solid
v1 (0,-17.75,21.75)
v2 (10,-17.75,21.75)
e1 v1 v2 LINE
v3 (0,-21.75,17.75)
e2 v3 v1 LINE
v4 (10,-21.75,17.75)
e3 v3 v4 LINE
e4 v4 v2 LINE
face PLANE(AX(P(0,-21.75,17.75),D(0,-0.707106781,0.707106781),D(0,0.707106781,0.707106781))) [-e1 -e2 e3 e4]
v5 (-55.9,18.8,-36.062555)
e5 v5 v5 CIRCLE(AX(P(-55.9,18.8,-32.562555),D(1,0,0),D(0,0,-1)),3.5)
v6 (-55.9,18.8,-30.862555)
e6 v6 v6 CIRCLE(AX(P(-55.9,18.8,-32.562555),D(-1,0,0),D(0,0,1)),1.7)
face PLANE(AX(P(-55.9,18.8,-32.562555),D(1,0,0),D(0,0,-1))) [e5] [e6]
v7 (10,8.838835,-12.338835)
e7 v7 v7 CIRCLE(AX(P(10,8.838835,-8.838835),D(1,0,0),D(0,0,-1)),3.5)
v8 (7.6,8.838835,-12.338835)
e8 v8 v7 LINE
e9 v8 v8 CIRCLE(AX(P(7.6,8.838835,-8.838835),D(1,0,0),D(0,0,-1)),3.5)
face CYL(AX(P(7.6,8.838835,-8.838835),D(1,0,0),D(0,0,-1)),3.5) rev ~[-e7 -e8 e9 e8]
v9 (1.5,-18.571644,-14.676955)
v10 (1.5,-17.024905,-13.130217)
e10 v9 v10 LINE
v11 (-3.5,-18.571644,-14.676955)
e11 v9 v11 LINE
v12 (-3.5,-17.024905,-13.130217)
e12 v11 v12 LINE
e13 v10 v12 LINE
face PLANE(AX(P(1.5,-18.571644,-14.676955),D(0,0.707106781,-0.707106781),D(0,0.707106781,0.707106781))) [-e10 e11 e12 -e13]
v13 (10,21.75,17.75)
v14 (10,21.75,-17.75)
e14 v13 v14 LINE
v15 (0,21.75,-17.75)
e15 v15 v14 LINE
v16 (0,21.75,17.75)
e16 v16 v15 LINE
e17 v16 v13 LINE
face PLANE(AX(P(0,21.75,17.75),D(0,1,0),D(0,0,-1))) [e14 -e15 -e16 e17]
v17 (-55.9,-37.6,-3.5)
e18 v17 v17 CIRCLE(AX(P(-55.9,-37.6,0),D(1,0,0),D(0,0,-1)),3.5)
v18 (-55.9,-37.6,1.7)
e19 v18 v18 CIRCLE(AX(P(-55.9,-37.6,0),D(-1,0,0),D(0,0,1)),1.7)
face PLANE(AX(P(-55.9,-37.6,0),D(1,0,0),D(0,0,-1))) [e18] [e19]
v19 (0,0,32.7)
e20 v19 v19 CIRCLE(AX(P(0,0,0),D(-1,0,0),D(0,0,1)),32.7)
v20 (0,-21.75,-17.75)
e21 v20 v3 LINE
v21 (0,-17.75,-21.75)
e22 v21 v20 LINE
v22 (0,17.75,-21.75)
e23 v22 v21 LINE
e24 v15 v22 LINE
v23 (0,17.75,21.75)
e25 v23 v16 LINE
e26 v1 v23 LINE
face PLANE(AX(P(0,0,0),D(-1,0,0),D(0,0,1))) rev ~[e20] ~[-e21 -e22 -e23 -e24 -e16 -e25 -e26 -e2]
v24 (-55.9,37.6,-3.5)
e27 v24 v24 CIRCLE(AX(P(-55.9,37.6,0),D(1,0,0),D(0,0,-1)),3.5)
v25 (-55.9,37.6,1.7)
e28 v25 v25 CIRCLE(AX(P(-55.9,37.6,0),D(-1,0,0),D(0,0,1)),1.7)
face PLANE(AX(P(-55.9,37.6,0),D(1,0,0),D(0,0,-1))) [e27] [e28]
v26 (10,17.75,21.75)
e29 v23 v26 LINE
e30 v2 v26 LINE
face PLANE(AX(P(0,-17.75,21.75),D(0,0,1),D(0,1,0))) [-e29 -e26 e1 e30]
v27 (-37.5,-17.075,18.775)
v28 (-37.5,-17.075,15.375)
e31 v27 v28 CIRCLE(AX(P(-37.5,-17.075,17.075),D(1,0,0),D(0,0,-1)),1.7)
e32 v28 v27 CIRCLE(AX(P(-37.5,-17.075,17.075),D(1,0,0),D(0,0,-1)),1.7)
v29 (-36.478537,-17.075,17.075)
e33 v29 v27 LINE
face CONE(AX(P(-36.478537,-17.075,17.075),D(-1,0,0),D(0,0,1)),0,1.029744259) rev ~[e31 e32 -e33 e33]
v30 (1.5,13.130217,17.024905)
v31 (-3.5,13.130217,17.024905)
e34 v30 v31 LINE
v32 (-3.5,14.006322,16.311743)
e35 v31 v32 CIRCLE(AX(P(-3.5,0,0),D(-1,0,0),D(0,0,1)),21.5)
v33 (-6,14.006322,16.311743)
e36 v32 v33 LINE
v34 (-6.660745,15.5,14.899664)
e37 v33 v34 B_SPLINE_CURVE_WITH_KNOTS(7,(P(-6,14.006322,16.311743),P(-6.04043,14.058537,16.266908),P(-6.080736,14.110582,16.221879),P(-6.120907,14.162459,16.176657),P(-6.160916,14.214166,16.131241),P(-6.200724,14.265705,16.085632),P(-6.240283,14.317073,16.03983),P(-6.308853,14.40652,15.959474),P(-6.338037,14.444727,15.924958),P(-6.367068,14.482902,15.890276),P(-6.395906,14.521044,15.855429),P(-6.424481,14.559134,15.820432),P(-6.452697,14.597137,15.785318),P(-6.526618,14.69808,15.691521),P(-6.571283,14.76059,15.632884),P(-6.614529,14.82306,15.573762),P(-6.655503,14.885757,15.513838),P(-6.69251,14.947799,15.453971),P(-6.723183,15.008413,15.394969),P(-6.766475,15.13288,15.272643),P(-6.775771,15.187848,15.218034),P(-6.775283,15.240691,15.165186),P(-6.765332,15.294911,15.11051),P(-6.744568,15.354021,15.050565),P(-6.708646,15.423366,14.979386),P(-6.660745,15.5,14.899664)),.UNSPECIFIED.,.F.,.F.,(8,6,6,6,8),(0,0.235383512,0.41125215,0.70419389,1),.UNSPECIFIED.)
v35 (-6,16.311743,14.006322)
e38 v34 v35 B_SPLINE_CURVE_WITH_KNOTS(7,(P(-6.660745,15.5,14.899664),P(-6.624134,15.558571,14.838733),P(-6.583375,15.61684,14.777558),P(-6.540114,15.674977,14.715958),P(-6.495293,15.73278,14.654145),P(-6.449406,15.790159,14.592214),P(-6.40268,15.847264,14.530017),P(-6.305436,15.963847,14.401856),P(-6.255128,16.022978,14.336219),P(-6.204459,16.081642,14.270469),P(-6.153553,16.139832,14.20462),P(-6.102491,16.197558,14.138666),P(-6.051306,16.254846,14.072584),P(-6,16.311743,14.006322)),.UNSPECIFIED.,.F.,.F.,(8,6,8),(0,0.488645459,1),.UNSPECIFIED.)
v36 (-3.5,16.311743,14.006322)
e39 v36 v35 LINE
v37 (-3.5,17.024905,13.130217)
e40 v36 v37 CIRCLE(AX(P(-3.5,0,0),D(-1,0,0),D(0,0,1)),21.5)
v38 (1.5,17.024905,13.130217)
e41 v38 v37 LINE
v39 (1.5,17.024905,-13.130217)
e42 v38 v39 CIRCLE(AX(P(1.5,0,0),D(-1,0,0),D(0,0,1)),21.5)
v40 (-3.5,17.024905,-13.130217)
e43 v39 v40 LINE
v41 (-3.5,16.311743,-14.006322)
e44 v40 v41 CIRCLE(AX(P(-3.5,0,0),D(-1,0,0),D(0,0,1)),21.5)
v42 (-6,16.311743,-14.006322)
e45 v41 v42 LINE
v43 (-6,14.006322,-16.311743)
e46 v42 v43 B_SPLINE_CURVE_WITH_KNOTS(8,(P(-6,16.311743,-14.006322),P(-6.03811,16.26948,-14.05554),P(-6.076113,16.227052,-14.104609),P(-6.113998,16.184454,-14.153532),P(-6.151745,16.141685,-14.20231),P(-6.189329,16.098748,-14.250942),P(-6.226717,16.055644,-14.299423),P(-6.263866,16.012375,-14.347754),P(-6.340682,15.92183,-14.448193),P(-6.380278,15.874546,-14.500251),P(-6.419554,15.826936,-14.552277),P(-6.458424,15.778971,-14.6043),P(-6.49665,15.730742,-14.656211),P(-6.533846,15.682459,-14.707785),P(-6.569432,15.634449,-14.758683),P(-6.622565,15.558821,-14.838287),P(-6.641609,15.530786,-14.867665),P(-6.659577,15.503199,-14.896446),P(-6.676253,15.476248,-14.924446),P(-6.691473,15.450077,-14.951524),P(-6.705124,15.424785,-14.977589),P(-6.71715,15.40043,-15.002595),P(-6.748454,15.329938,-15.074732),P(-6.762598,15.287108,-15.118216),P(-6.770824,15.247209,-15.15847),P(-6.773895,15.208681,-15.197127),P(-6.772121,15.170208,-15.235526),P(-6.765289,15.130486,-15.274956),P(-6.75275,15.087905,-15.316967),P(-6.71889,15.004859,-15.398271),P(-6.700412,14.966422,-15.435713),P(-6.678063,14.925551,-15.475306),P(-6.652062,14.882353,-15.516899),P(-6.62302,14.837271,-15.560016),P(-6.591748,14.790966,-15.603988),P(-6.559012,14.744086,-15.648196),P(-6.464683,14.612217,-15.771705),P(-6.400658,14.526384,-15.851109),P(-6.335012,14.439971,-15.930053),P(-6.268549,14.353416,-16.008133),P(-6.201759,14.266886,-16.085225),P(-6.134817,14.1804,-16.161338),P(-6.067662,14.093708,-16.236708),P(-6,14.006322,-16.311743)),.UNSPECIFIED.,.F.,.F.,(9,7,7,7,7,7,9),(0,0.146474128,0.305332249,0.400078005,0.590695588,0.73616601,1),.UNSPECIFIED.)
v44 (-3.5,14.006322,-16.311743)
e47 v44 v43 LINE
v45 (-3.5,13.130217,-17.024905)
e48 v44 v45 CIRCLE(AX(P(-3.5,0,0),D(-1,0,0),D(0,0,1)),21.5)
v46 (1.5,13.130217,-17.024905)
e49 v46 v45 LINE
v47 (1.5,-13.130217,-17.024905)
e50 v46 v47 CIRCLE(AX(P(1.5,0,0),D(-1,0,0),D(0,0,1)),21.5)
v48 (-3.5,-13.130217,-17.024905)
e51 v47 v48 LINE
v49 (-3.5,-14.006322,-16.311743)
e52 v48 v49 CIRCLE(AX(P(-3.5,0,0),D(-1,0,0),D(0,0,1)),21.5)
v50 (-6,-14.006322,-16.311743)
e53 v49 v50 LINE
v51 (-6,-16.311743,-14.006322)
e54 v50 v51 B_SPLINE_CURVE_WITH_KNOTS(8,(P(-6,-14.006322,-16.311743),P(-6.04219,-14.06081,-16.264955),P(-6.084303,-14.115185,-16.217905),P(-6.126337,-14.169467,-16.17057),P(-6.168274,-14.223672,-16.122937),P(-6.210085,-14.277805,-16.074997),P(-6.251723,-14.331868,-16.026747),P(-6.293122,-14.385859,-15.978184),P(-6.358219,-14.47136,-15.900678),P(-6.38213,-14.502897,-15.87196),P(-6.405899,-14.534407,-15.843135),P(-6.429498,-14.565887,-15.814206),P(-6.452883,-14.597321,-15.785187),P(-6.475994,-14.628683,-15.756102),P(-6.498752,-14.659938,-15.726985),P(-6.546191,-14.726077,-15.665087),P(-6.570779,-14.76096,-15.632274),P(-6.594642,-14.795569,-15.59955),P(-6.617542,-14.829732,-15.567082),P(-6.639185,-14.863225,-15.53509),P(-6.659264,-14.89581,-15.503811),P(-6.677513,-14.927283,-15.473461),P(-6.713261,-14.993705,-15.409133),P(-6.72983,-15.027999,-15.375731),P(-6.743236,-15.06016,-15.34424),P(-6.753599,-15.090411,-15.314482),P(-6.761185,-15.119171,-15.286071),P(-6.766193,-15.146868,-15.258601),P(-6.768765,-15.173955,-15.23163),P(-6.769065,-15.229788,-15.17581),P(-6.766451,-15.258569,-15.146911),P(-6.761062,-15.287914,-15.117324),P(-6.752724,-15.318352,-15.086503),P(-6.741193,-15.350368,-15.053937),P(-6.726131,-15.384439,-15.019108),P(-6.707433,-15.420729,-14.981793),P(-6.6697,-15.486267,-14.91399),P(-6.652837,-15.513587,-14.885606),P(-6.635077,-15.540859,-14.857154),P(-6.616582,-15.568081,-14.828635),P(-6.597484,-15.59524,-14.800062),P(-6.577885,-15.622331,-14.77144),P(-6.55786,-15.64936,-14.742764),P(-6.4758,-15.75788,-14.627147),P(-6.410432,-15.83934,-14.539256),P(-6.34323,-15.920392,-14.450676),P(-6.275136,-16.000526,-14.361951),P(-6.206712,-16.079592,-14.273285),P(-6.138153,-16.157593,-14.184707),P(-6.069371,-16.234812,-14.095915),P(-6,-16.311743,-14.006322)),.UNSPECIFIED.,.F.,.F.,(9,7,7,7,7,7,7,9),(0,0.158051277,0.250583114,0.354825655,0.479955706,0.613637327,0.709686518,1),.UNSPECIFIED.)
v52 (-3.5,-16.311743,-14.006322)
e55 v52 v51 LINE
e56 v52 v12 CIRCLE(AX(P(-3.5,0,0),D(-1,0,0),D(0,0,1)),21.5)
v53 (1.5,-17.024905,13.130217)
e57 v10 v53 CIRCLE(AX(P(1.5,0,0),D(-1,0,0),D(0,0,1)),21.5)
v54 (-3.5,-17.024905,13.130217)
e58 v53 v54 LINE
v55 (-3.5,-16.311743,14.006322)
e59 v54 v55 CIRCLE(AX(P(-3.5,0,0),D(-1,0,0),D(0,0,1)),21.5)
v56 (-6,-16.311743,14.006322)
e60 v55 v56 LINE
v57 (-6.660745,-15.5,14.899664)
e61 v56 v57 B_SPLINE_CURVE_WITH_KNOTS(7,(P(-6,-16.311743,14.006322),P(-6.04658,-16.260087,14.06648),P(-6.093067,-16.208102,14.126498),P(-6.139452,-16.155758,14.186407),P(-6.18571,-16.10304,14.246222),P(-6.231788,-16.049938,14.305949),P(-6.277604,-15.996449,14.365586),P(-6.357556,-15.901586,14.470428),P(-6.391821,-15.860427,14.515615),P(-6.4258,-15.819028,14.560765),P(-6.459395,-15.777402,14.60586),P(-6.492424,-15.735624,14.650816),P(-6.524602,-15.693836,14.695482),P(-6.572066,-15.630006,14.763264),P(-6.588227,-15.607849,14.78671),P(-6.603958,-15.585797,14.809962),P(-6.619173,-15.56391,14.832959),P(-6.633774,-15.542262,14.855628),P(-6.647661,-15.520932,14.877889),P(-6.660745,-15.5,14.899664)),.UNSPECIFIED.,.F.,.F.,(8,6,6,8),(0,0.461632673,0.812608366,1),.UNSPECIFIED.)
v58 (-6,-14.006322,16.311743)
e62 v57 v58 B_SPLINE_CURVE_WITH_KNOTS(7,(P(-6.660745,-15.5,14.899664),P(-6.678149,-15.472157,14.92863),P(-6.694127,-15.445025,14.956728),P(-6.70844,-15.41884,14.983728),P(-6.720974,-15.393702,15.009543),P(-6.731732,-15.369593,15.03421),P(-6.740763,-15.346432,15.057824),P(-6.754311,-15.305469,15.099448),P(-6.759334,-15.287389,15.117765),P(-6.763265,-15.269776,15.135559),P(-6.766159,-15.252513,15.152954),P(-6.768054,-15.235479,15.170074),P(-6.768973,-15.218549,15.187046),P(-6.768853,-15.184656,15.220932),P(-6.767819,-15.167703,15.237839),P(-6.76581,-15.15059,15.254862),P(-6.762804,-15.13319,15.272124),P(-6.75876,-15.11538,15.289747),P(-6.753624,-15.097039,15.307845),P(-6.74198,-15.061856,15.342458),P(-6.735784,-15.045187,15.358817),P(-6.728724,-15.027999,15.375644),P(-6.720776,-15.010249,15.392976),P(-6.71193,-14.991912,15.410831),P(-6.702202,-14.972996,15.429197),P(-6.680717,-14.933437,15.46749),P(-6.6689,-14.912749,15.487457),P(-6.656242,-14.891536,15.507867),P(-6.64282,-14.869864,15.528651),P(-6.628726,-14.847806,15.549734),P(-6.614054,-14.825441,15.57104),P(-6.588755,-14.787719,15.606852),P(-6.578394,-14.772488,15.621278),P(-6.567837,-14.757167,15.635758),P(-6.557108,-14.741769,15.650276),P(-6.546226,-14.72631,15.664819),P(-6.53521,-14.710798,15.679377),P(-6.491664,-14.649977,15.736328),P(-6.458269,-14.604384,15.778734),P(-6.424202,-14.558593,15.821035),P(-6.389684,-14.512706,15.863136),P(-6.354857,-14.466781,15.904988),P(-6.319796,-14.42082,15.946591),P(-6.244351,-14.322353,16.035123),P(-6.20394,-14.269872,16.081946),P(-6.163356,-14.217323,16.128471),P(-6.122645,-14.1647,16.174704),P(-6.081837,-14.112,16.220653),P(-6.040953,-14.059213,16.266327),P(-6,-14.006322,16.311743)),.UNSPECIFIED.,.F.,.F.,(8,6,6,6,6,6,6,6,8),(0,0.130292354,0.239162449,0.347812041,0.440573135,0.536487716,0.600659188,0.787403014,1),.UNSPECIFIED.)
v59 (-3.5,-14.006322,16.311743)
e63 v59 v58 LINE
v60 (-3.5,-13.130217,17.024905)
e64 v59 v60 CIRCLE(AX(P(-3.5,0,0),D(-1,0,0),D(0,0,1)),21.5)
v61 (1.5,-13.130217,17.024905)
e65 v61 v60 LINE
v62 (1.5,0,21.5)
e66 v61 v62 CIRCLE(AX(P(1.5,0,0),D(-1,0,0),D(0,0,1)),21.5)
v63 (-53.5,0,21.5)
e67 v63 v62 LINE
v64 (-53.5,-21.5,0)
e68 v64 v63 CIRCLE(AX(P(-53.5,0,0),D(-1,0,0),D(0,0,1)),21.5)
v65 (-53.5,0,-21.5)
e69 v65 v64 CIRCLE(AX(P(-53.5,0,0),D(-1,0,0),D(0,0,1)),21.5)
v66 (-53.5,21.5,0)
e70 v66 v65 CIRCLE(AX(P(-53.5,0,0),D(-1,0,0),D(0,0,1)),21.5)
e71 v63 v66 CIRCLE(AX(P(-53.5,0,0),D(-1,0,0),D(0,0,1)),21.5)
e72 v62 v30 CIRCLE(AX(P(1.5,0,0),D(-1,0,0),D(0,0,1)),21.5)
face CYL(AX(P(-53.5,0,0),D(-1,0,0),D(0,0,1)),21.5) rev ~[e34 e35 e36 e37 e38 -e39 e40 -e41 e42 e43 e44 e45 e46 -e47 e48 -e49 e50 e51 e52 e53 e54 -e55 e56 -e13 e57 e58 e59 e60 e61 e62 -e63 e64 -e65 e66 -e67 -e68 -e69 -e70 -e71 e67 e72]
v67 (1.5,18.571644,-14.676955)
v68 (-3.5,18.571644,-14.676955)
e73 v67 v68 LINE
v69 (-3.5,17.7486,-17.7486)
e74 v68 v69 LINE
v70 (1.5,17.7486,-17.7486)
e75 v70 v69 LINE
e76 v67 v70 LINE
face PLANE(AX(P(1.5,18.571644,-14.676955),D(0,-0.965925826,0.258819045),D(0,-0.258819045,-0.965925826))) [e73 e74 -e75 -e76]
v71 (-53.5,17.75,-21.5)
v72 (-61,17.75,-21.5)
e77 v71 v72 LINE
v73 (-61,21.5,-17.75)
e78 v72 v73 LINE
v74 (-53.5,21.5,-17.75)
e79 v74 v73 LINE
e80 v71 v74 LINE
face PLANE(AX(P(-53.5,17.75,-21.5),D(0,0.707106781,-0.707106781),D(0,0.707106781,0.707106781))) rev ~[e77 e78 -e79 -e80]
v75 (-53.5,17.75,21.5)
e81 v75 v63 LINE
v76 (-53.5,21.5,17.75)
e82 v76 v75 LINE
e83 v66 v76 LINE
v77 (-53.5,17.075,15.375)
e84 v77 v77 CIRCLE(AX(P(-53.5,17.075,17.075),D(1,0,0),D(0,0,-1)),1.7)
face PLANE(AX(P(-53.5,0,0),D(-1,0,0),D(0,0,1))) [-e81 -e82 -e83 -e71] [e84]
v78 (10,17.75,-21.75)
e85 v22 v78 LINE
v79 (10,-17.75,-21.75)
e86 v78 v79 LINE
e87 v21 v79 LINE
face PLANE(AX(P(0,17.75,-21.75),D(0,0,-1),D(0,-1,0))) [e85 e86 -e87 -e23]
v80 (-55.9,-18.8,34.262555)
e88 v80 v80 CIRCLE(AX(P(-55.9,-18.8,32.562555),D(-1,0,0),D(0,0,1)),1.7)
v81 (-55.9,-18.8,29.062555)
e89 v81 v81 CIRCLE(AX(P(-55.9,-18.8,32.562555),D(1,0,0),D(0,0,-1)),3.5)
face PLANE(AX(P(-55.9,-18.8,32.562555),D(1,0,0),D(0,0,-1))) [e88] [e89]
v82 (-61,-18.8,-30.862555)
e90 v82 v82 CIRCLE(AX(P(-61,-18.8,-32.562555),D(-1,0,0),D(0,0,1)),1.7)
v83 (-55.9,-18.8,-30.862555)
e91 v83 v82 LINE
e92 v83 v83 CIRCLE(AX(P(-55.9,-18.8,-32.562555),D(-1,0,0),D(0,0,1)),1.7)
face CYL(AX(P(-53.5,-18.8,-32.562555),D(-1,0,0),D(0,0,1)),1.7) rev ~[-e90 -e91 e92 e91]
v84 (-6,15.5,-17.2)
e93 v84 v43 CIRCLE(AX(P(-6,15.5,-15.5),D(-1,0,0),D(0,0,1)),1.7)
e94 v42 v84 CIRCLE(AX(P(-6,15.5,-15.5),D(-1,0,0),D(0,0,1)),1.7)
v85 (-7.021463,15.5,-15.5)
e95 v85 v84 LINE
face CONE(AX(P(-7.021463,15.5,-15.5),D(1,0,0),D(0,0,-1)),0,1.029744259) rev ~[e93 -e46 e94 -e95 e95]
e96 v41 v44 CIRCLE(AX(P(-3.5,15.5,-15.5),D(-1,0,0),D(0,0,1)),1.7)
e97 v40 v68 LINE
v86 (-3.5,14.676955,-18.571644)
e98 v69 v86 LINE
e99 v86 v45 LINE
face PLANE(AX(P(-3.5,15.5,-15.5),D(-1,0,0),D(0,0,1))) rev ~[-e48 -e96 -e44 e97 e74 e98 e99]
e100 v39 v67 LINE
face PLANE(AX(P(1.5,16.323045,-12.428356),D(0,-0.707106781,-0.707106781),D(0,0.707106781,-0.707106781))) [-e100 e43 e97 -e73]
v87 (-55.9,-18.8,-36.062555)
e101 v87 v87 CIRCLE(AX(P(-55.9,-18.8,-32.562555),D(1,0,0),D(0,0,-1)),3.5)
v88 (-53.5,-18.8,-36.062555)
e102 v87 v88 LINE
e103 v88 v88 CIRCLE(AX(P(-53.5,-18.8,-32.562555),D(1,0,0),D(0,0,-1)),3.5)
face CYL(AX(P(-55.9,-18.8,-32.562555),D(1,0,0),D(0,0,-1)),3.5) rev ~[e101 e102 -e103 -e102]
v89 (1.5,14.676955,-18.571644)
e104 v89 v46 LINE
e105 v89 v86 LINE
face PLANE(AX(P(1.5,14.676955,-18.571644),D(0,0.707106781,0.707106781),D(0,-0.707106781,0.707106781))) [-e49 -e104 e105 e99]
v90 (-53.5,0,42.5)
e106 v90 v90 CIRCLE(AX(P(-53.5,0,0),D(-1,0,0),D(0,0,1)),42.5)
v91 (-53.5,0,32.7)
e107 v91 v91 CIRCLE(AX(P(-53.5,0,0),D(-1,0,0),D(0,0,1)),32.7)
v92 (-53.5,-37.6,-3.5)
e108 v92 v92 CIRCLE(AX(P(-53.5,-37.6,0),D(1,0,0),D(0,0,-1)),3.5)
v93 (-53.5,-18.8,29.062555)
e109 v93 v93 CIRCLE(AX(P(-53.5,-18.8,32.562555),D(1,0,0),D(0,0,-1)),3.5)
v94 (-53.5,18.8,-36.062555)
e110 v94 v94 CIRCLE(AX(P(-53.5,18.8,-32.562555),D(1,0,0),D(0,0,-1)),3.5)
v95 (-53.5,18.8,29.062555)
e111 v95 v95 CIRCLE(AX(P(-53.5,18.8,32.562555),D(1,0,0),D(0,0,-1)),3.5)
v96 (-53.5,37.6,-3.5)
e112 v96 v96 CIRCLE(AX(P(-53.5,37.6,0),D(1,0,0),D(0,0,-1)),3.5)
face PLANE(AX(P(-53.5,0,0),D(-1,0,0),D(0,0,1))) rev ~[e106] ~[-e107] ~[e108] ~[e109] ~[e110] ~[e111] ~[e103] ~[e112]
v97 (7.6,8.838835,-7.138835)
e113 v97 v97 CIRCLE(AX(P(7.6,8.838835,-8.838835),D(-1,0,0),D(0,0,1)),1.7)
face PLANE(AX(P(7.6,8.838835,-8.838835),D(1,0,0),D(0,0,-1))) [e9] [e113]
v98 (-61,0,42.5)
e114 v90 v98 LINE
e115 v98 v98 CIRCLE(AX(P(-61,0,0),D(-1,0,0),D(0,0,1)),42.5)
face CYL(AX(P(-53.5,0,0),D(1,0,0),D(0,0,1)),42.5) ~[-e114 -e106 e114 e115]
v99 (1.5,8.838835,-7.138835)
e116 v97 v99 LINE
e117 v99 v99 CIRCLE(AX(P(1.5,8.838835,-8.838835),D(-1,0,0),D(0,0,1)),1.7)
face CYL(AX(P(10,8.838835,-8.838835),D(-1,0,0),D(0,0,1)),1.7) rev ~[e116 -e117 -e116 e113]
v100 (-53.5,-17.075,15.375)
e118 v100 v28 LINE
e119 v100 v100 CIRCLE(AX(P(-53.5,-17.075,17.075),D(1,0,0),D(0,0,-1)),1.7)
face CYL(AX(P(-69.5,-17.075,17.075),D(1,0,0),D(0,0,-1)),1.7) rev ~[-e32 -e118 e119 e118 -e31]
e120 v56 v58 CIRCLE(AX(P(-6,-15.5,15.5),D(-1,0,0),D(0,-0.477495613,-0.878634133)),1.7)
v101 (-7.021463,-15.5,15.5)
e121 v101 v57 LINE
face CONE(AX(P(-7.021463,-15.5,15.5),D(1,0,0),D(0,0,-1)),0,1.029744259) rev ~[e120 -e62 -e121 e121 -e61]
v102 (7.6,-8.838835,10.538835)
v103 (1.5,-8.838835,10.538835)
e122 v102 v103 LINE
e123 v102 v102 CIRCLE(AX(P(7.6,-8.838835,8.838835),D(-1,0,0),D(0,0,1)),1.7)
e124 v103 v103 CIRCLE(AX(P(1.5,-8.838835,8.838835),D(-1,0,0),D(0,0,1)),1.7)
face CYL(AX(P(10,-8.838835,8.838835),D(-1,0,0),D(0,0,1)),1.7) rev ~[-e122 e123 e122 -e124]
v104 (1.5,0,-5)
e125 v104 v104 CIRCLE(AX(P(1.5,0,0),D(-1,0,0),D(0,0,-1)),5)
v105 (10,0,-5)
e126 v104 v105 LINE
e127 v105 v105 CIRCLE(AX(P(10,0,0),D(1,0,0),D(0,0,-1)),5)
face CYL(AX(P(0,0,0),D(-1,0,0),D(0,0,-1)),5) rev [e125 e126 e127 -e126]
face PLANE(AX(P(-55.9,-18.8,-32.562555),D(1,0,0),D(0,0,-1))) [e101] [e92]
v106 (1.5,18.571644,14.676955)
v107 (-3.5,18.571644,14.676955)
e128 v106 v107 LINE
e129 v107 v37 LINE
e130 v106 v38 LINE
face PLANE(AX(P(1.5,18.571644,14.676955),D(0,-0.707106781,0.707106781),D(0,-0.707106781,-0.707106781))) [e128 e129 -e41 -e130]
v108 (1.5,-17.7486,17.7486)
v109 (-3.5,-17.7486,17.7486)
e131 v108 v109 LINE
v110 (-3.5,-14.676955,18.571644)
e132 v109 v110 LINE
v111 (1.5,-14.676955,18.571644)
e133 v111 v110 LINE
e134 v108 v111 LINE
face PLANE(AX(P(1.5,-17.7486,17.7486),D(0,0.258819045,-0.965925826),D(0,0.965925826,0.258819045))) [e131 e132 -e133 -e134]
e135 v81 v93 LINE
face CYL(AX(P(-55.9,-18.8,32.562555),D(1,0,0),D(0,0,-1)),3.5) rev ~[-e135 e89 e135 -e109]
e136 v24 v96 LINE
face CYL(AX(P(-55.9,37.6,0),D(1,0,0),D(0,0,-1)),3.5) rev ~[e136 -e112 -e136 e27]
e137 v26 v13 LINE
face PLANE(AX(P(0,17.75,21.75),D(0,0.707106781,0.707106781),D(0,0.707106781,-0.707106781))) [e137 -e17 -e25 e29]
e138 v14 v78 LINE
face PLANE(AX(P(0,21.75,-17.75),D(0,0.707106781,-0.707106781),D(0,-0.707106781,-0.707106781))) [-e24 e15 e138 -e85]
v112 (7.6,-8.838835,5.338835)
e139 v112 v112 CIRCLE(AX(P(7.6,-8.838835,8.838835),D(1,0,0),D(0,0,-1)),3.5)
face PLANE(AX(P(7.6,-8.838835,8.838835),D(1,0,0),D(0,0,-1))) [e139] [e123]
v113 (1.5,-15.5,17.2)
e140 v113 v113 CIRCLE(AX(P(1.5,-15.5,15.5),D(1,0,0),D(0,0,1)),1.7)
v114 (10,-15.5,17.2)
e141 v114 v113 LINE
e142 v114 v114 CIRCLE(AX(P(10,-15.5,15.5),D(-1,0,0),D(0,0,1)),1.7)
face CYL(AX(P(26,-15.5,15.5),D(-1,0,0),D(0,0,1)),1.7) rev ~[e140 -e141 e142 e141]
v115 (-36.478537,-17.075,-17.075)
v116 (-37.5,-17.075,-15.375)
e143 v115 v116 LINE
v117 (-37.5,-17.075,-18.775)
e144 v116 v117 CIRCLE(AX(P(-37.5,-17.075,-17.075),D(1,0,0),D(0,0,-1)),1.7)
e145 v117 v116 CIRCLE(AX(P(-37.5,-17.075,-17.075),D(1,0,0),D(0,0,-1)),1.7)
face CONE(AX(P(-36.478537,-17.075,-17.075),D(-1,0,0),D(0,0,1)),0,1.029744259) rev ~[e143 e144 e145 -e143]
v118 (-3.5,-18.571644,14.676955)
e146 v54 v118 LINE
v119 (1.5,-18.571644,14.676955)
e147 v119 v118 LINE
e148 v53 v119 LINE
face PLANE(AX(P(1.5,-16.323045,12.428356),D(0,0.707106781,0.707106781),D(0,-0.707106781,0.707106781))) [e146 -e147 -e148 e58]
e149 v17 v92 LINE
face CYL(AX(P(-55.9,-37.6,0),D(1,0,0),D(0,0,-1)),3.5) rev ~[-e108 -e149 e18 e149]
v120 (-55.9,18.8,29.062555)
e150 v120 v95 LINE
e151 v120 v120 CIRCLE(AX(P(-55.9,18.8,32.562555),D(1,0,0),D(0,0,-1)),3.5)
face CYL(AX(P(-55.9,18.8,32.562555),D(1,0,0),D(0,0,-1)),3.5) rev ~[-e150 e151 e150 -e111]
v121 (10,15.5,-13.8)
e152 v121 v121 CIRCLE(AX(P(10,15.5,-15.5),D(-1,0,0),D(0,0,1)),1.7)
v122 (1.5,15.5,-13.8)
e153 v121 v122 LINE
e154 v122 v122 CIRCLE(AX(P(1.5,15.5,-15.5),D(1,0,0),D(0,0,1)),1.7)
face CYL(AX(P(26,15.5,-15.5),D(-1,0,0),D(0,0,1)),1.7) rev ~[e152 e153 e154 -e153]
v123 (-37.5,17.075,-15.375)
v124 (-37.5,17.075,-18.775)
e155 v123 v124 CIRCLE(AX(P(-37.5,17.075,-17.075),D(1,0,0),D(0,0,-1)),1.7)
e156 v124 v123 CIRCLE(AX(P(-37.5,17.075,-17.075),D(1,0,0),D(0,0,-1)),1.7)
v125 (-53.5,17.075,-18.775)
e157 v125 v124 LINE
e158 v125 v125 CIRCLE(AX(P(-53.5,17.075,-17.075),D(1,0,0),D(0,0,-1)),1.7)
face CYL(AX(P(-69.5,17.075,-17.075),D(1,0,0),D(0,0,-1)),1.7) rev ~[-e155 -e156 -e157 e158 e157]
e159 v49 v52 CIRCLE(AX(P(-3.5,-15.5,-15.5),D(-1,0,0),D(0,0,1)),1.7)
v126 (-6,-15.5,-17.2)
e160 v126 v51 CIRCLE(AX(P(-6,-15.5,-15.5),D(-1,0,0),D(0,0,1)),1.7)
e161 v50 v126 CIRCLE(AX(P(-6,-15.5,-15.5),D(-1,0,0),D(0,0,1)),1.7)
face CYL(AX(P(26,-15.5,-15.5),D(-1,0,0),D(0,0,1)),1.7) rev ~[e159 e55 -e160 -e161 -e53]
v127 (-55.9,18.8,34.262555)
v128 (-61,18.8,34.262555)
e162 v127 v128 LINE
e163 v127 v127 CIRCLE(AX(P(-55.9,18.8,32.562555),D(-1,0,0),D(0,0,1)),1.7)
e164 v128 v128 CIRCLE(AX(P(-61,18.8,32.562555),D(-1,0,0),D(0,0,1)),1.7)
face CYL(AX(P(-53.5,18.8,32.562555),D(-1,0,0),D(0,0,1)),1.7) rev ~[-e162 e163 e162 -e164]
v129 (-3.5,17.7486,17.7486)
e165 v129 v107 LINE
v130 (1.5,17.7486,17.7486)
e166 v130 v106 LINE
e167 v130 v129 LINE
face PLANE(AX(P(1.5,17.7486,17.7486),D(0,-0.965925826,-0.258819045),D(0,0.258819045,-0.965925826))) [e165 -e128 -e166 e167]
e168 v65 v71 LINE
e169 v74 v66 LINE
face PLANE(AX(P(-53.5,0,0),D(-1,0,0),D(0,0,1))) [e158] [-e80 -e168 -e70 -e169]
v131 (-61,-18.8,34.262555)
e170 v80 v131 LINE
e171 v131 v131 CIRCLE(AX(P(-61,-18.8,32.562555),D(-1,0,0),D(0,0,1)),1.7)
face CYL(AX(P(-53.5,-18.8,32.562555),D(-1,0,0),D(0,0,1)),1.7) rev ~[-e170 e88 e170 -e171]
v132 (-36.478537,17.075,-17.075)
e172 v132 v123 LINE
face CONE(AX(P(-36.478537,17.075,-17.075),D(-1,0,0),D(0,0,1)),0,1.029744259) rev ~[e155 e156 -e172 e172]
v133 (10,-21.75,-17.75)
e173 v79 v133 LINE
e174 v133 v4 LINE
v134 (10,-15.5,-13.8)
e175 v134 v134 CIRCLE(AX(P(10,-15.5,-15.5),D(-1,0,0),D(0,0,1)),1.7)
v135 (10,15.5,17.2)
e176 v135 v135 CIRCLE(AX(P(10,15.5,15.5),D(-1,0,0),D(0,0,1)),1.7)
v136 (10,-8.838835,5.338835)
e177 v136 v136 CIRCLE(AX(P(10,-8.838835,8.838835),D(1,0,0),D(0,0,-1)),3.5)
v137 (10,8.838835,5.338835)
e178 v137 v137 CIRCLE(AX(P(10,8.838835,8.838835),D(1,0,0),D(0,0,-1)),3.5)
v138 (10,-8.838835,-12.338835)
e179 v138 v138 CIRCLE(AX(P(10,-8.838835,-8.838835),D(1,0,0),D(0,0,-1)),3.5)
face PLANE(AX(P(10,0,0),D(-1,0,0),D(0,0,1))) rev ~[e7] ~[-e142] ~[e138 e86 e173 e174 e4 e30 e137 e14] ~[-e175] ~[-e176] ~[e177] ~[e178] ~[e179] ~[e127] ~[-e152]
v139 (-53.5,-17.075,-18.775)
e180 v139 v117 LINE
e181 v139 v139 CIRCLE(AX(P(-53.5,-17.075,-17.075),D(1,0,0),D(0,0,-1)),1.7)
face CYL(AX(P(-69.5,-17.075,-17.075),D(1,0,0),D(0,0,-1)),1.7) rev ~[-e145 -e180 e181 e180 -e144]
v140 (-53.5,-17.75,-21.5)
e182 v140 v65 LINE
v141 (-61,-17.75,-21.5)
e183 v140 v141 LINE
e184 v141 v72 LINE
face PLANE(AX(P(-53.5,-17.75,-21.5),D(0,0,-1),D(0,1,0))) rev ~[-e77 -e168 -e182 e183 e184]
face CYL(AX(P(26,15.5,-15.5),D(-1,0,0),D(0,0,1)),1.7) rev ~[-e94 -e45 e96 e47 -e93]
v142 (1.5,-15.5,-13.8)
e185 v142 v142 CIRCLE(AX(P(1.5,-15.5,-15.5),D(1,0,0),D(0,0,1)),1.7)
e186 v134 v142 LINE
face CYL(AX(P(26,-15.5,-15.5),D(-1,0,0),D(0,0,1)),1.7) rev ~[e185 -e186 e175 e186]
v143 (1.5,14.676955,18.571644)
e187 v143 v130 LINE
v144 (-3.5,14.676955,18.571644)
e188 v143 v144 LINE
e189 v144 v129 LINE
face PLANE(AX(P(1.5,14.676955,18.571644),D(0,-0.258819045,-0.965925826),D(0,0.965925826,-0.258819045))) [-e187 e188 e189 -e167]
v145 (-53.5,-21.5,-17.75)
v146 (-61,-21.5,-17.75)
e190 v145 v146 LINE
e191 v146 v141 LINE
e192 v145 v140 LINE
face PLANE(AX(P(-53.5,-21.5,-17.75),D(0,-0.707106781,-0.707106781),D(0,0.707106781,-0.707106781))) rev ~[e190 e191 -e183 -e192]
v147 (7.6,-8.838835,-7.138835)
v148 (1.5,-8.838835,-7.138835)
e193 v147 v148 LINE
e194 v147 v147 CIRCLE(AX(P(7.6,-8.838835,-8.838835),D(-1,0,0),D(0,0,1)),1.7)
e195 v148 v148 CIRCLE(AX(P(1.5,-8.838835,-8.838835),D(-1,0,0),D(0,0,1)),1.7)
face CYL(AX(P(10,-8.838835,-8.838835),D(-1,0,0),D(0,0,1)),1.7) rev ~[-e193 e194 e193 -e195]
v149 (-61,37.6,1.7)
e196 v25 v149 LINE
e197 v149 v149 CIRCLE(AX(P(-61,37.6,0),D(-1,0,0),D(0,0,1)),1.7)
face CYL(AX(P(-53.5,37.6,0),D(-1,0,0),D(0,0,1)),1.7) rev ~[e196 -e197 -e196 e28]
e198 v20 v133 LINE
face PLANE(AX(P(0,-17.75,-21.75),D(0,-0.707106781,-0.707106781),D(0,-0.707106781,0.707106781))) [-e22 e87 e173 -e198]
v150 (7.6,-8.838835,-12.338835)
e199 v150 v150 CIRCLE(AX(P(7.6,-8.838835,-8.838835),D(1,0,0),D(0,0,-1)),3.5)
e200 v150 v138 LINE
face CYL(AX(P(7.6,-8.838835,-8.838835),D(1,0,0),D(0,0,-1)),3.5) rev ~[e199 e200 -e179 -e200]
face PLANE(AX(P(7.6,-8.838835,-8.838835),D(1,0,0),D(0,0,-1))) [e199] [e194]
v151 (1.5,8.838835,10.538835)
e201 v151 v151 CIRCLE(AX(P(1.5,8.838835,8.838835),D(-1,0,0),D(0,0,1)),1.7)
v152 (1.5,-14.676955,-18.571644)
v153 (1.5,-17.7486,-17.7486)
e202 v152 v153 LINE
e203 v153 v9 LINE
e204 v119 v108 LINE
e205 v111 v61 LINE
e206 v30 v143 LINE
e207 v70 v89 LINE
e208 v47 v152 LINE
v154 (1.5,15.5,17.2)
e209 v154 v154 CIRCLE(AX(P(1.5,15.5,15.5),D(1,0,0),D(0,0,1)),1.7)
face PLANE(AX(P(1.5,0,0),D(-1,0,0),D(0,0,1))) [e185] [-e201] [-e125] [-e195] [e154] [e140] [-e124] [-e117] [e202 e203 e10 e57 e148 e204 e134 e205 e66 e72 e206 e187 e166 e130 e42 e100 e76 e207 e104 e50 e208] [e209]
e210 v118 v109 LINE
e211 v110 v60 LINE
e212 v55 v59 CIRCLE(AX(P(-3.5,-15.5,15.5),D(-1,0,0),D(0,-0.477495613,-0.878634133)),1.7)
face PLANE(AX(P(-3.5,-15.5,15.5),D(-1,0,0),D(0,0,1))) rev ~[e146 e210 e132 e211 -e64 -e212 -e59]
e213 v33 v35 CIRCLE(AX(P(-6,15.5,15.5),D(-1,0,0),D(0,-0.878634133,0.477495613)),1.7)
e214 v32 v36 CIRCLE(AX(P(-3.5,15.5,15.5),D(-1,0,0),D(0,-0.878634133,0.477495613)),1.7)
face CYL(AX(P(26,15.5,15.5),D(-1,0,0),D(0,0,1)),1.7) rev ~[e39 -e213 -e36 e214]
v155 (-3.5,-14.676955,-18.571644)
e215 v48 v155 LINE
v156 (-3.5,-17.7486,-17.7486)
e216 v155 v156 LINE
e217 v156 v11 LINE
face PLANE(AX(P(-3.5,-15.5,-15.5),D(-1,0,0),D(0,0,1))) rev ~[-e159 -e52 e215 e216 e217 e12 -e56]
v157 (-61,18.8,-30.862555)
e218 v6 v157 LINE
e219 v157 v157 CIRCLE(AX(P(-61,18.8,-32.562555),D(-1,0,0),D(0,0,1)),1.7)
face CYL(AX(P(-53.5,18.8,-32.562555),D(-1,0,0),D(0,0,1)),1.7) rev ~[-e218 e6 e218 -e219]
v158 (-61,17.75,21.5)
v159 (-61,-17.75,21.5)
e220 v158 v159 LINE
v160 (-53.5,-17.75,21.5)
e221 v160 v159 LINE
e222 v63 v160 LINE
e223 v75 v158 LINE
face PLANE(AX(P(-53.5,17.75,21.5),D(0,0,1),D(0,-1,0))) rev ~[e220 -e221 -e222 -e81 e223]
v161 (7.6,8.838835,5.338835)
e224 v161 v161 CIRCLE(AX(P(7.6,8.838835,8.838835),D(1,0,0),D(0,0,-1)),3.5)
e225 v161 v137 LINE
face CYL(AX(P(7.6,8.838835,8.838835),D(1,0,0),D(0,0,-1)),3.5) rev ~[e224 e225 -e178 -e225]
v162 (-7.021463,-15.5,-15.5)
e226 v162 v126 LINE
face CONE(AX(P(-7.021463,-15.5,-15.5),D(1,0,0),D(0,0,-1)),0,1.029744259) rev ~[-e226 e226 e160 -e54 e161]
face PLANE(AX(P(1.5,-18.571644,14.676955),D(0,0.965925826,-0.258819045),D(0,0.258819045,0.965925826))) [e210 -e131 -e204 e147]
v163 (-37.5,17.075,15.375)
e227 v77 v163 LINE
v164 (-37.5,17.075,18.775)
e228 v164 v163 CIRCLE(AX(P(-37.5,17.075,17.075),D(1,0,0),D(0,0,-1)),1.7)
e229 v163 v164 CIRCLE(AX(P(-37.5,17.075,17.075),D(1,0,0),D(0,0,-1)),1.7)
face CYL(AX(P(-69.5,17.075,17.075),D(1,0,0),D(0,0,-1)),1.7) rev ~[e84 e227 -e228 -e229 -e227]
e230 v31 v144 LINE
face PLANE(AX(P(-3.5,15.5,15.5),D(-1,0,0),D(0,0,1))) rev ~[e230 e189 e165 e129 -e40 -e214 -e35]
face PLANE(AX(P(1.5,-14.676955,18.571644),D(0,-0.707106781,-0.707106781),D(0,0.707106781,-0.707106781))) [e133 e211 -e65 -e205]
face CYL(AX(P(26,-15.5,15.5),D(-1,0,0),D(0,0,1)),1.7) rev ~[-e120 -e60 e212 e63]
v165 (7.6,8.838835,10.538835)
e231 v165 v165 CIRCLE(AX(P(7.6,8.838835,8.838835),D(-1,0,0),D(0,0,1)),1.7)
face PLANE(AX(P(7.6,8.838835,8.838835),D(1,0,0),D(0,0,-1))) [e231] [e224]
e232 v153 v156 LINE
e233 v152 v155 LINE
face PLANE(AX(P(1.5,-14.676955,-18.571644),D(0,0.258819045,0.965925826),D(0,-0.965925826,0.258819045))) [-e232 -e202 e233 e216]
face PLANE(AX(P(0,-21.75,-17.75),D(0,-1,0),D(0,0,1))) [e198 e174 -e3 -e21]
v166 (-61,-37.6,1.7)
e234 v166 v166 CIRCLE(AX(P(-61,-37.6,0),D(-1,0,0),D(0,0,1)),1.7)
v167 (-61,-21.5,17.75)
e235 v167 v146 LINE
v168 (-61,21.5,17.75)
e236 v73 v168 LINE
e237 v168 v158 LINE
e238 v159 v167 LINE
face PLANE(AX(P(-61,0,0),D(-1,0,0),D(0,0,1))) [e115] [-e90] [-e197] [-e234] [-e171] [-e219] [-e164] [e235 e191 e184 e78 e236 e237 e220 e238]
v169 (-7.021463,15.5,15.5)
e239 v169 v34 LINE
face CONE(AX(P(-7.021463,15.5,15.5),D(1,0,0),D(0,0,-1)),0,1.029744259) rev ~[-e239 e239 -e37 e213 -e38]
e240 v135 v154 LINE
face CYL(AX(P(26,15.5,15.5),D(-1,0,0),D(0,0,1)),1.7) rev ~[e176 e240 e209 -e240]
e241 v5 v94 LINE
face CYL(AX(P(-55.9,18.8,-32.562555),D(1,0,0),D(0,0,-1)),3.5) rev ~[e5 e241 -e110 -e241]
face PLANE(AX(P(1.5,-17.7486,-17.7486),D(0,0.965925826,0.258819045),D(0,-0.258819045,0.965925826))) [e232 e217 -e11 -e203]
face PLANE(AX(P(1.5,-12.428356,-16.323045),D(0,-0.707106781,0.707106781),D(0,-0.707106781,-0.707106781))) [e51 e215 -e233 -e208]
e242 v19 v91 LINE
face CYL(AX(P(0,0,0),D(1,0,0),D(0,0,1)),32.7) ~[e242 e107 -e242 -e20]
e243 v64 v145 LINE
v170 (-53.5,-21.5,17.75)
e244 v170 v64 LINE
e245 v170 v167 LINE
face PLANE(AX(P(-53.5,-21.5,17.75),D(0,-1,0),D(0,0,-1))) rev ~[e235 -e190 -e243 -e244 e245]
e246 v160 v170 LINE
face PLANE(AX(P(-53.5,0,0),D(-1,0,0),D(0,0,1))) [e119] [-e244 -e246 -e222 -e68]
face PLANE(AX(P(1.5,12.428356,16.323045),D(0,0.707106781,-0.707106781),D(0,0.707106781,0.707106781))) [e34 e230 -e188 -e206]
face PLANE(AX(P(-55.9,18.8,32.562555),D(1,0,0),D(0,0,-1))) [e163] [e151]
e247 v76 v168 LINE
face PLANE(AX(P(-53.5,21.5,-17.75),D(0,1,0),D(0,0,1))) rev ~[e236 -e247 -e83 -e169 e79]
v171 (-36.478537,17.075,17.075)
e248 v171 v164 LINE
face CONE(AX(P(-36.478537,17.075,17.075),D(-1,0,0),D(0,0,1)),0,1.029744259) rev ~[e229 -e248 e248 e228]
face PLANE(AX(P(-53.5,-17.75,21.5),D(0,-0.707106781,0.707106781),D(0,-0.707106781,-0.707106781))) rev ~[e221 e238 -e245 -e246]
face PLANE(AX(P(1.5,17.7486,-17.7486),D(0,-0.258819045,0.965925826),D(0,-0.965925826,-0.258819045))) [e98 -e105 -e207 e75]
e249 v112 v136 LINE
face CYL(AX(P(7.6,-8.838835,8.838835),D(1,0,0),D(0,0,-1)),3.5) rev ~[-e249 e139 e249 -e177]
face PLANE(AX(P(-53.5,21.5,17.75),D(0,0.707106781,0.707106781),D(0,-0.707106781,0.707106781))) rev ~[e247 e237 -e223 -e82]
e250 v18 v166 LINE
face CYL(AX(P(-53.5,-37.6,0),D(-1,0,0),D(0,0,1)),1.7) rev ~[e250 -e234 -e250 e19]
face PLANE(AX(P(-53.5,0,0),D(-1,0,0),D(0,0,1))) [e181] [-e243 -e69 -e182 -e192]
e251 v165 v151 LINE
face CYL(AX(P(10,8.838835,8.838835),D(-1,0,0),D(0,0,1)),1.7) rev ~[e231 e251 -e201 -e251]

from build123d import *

# Parameters (mm, degrees)
CROQUIS1_R                                           = 5
SALIENTE_EXTRUIR1_DEPTH                              = 10
CROQUIS2_R                                           = 32.7
SALIENTE_EXTRUIR2_DEPTH                              = 53.5
CROQUIS3_R                                           = 21.5
CORTAR_EXTRUIR2_DEPTH                                = 55
REFRENTADO_PARA_TORNILLO_CON_CABEZA_TRON_D           = 3.4
REFRENTADO_PARA_TORNILLO_CON_CABEZA_TRON_CBORE_D     = 7
REFRENTADO_PARA_TORNILLO_CON_CABEZA_TRON_CBORE_DEPTH = 2.4
TALADRO_DE_MARGEN_PARA_M31_D                         = 3.4
TALADRO_DE_MARGEN_PARA_M31_DEPTH                     = 16
TALADRO_DE_MARGEN_PARA_M31_TIP                       = 1.021463052
CORTAR_EXTRUIR3_DEPTH                                = 5
CROQUIS11_R                                          = 42.5
SALIENTE_EXTRUIR3_DEPTH                              = 7.5
TALADRO_DE_MARGEN_PARA_M32_D                         = 3.4
TALADRO_DE_MARGEN_PARA_M32_DEPTH                     = 16
TALADRO_DE_MARGEN_PARA_M32_TIP                       = 1.021463052
REFRENTADO_PARA_TORNILLO_CON_CABEZA_2_D              = 3.4
REFRENTADO_PARA_TORNILLO_CON_CABEZA_2_CBORE_D        = 7
REFRENTADO_PARA_TORNILLO_CON_CABEZA_2_CBORE_DEPTH    = 2.4


with BuildPart() as part:
    # Croquis1 → Saliente-Extruir1 (new body)
    with BuildSketch(Plane(origin=(0, 0, 0), x_dir=(0, 0, -1), z_dir=(1, 0, 0))):
        Polygon((-21.75, -17.75), (-21.75, 17.75), (-17.75, 21.75), (17.75, 21.75), (21.75, 17.75), (21.75, -17.75), (17.75, -21.75), (-17.75, -21.75), align=None)
        Circle(CROQUIS1_R, mode=Mode.SUBTRACT)
    extrude(amount=SALIENTE_EXTRUIR1_DEPTH)

    # Croquis2 → Saliente-Extruir2 (add)
    with BuildSketch(Plane.ZY):
        Circle(CROQUIS2_R)
    extrude(amount=SALIENTE_EXTRUIR2_DEPTH)

    # Croquis3 → Cortar-Extruir2 (cut)
    with BuildSketch(Plane.ZY.offset(53.5)):
        Circle(CROQUIS3_R)
    extrude(amount=-CORTAR_EXTRUIR2_DEPTH, mode=Mode.SUBTRACT)

    # Refrentado para tornillo con cabeza tron (through all)
    with Locations(Plane(origin=(10, 0, 0), x_dir=(0, 0, -1), z_dir=(1, 0, 0))):
        with Locations((-8.838834765, 8.838834765), (8.838834765, 8.838834765), (8.838834765, -8.838834765), (-8.838834765, -8.838834765)):
            CounterBoreHole(REFRENTADO_PARA_TORNILLO_CON_CABEZA_TRON_D / 2, REFRENTADO_PARA_TORNILLO_CON_CABEZA_TRON_CBORE_D / 2, REFRENTADO_PARA_TORNILLO_CON_CABEZA_TRON_CBORE_DEPTH)

    # Taladro de margen para M31
    with Locations(Plane(origin=(10, 0, 0), x_dir=(0, 0, -1), z_dir=(1, 0, 0))):
        with Locations((15.5, 15.5), (15.5, -15.5), (-15.5, -15.5), (-15.5, 15.5)):
            Hole(TALADRO_DE_MARGEN_PARA_M31_D / 2, depth=TALADRO_DE_MARGEN_PARA_M31_DEPTH)
            with Locations((0, 0, -(TALADRO_DE_MARGEN_PARA_M31_DEPTH + TALADRO_DE_MARGEN_PARA_M31_TIP / 2))):  # 118° drill point
                Cone(0, TALADRO_DE_MARGEN_PARA_M31_D / 2, TALADRO_DE_MARGEN_PARA_M31_TIP, mode=Mode.SUBTRACT)

    # Croquis10 → Cortar-Extruir3 (cut)
    with BuildSketch(Plane.ZY.offset(-1.5)):
        Polygon((-13.251400436, 13.251400436), (-12.428355872, 16.323044563), (-14.676955437, 18.571644128), (-17.748599564, 17.748599564), (-18.571644128, 14.676955437), (-16.323044563, 12.428355872), align=None)
        Polygon((18.571644128, 14.676955437), (17.748599564, 17.748599564), (14.676955437, 18.571644128), (12.428355872, 16.323044563), (13.251400436, 13.251400436), (16.323044563, 12.428355872), align=None)
        Polygon((14.676955437, -18.571644128), (17.748599564, -17.748599564), (18.571644128, -14.676955437), (16.323044563, -12.428355872), (13.251400436, -13.251400436), (12.428355872, -16.323044563), align=None)
        Polygon((-18.571644128, -14.676955437), (-17.748599564, -17.748599564), (-14.676955437, -18.571644128), (-12.428355872, -16.323044563), (-13.251400436, -13.251400436), (-16.323044563, -12.428355872), align=None)
    extrude(amount=CORTAR_EXTRUIR3_DEPTH, mode=Mode.SUBTRACT)

    # Croquis11 → Saliente-Extruir3 (add)
    with BuildSketch(Plane.ZY.offset(53.5)):
        Circle(CROQUIS11_R)
        Polygon((-21.5, -17.75), (-21.5, 17.75), (-17.75, 21.5), (17.75, 21.5), (21.5, 17.75), (21.5, -17.75), (17.75, -21.5), (-17.75, -21.5), align=None, mode=Mode.SUBTRACT)
    extrude(amount=SALIENTE_EXTRUIR3_DEPTH)

    # Taladro de margen para M32
    with Locations(Plane.ZY.offset(53.5)):
        with Locations((-17.075, 17.075), (17.075, 17.075), (17.075, -17.075), (-17.075, -17.075)):
            Hole(TALADRO_DE_MARGEN_PARA_M32_D / 2, depth=TALADRO_DE_MARGEN_PARA_M32_DEPTH)
            with Locations((0, 0, -(TALADRO_DE_MARGEN_PARA_M32_DEPTH + TALADRO_DE_MARGEN_PARA_M32_TIP / 2))):  # 118° drill point
                Cone(0, TALADRO_DE_MARGEN_PARA_M32_D / 2, TALADRO_DE_MARGEN_PARA_M32_TIP, mode=Mode.SUBTRACT)

    # Refrentado para tornillo con cabeza  2 (through all)
    with Locations(Plane(origin=(-53.5, 0, 0), x_dir=(0, 0, -1), z_dir=(1, 0, 0))):
        with Locations((0, 37.6), (32.562555182, 18.8), (32.562555182, -18.8), (0, -37.6), (-32.562555182, -18.8), (-32.562555182, 18.8)):
            CounterBoreHole(REFRENTADO_PARA_TORNILLO_CON_CABEZA_2_D / 2, REFRENTADO_PARA_TORNILLO_CON_CABEZA_2_CBORE_D / 2, REFRENTADO_PARA_TORNILLO_CON_CABEZA_2_CBORE_DEPTH)


solid = part.part
